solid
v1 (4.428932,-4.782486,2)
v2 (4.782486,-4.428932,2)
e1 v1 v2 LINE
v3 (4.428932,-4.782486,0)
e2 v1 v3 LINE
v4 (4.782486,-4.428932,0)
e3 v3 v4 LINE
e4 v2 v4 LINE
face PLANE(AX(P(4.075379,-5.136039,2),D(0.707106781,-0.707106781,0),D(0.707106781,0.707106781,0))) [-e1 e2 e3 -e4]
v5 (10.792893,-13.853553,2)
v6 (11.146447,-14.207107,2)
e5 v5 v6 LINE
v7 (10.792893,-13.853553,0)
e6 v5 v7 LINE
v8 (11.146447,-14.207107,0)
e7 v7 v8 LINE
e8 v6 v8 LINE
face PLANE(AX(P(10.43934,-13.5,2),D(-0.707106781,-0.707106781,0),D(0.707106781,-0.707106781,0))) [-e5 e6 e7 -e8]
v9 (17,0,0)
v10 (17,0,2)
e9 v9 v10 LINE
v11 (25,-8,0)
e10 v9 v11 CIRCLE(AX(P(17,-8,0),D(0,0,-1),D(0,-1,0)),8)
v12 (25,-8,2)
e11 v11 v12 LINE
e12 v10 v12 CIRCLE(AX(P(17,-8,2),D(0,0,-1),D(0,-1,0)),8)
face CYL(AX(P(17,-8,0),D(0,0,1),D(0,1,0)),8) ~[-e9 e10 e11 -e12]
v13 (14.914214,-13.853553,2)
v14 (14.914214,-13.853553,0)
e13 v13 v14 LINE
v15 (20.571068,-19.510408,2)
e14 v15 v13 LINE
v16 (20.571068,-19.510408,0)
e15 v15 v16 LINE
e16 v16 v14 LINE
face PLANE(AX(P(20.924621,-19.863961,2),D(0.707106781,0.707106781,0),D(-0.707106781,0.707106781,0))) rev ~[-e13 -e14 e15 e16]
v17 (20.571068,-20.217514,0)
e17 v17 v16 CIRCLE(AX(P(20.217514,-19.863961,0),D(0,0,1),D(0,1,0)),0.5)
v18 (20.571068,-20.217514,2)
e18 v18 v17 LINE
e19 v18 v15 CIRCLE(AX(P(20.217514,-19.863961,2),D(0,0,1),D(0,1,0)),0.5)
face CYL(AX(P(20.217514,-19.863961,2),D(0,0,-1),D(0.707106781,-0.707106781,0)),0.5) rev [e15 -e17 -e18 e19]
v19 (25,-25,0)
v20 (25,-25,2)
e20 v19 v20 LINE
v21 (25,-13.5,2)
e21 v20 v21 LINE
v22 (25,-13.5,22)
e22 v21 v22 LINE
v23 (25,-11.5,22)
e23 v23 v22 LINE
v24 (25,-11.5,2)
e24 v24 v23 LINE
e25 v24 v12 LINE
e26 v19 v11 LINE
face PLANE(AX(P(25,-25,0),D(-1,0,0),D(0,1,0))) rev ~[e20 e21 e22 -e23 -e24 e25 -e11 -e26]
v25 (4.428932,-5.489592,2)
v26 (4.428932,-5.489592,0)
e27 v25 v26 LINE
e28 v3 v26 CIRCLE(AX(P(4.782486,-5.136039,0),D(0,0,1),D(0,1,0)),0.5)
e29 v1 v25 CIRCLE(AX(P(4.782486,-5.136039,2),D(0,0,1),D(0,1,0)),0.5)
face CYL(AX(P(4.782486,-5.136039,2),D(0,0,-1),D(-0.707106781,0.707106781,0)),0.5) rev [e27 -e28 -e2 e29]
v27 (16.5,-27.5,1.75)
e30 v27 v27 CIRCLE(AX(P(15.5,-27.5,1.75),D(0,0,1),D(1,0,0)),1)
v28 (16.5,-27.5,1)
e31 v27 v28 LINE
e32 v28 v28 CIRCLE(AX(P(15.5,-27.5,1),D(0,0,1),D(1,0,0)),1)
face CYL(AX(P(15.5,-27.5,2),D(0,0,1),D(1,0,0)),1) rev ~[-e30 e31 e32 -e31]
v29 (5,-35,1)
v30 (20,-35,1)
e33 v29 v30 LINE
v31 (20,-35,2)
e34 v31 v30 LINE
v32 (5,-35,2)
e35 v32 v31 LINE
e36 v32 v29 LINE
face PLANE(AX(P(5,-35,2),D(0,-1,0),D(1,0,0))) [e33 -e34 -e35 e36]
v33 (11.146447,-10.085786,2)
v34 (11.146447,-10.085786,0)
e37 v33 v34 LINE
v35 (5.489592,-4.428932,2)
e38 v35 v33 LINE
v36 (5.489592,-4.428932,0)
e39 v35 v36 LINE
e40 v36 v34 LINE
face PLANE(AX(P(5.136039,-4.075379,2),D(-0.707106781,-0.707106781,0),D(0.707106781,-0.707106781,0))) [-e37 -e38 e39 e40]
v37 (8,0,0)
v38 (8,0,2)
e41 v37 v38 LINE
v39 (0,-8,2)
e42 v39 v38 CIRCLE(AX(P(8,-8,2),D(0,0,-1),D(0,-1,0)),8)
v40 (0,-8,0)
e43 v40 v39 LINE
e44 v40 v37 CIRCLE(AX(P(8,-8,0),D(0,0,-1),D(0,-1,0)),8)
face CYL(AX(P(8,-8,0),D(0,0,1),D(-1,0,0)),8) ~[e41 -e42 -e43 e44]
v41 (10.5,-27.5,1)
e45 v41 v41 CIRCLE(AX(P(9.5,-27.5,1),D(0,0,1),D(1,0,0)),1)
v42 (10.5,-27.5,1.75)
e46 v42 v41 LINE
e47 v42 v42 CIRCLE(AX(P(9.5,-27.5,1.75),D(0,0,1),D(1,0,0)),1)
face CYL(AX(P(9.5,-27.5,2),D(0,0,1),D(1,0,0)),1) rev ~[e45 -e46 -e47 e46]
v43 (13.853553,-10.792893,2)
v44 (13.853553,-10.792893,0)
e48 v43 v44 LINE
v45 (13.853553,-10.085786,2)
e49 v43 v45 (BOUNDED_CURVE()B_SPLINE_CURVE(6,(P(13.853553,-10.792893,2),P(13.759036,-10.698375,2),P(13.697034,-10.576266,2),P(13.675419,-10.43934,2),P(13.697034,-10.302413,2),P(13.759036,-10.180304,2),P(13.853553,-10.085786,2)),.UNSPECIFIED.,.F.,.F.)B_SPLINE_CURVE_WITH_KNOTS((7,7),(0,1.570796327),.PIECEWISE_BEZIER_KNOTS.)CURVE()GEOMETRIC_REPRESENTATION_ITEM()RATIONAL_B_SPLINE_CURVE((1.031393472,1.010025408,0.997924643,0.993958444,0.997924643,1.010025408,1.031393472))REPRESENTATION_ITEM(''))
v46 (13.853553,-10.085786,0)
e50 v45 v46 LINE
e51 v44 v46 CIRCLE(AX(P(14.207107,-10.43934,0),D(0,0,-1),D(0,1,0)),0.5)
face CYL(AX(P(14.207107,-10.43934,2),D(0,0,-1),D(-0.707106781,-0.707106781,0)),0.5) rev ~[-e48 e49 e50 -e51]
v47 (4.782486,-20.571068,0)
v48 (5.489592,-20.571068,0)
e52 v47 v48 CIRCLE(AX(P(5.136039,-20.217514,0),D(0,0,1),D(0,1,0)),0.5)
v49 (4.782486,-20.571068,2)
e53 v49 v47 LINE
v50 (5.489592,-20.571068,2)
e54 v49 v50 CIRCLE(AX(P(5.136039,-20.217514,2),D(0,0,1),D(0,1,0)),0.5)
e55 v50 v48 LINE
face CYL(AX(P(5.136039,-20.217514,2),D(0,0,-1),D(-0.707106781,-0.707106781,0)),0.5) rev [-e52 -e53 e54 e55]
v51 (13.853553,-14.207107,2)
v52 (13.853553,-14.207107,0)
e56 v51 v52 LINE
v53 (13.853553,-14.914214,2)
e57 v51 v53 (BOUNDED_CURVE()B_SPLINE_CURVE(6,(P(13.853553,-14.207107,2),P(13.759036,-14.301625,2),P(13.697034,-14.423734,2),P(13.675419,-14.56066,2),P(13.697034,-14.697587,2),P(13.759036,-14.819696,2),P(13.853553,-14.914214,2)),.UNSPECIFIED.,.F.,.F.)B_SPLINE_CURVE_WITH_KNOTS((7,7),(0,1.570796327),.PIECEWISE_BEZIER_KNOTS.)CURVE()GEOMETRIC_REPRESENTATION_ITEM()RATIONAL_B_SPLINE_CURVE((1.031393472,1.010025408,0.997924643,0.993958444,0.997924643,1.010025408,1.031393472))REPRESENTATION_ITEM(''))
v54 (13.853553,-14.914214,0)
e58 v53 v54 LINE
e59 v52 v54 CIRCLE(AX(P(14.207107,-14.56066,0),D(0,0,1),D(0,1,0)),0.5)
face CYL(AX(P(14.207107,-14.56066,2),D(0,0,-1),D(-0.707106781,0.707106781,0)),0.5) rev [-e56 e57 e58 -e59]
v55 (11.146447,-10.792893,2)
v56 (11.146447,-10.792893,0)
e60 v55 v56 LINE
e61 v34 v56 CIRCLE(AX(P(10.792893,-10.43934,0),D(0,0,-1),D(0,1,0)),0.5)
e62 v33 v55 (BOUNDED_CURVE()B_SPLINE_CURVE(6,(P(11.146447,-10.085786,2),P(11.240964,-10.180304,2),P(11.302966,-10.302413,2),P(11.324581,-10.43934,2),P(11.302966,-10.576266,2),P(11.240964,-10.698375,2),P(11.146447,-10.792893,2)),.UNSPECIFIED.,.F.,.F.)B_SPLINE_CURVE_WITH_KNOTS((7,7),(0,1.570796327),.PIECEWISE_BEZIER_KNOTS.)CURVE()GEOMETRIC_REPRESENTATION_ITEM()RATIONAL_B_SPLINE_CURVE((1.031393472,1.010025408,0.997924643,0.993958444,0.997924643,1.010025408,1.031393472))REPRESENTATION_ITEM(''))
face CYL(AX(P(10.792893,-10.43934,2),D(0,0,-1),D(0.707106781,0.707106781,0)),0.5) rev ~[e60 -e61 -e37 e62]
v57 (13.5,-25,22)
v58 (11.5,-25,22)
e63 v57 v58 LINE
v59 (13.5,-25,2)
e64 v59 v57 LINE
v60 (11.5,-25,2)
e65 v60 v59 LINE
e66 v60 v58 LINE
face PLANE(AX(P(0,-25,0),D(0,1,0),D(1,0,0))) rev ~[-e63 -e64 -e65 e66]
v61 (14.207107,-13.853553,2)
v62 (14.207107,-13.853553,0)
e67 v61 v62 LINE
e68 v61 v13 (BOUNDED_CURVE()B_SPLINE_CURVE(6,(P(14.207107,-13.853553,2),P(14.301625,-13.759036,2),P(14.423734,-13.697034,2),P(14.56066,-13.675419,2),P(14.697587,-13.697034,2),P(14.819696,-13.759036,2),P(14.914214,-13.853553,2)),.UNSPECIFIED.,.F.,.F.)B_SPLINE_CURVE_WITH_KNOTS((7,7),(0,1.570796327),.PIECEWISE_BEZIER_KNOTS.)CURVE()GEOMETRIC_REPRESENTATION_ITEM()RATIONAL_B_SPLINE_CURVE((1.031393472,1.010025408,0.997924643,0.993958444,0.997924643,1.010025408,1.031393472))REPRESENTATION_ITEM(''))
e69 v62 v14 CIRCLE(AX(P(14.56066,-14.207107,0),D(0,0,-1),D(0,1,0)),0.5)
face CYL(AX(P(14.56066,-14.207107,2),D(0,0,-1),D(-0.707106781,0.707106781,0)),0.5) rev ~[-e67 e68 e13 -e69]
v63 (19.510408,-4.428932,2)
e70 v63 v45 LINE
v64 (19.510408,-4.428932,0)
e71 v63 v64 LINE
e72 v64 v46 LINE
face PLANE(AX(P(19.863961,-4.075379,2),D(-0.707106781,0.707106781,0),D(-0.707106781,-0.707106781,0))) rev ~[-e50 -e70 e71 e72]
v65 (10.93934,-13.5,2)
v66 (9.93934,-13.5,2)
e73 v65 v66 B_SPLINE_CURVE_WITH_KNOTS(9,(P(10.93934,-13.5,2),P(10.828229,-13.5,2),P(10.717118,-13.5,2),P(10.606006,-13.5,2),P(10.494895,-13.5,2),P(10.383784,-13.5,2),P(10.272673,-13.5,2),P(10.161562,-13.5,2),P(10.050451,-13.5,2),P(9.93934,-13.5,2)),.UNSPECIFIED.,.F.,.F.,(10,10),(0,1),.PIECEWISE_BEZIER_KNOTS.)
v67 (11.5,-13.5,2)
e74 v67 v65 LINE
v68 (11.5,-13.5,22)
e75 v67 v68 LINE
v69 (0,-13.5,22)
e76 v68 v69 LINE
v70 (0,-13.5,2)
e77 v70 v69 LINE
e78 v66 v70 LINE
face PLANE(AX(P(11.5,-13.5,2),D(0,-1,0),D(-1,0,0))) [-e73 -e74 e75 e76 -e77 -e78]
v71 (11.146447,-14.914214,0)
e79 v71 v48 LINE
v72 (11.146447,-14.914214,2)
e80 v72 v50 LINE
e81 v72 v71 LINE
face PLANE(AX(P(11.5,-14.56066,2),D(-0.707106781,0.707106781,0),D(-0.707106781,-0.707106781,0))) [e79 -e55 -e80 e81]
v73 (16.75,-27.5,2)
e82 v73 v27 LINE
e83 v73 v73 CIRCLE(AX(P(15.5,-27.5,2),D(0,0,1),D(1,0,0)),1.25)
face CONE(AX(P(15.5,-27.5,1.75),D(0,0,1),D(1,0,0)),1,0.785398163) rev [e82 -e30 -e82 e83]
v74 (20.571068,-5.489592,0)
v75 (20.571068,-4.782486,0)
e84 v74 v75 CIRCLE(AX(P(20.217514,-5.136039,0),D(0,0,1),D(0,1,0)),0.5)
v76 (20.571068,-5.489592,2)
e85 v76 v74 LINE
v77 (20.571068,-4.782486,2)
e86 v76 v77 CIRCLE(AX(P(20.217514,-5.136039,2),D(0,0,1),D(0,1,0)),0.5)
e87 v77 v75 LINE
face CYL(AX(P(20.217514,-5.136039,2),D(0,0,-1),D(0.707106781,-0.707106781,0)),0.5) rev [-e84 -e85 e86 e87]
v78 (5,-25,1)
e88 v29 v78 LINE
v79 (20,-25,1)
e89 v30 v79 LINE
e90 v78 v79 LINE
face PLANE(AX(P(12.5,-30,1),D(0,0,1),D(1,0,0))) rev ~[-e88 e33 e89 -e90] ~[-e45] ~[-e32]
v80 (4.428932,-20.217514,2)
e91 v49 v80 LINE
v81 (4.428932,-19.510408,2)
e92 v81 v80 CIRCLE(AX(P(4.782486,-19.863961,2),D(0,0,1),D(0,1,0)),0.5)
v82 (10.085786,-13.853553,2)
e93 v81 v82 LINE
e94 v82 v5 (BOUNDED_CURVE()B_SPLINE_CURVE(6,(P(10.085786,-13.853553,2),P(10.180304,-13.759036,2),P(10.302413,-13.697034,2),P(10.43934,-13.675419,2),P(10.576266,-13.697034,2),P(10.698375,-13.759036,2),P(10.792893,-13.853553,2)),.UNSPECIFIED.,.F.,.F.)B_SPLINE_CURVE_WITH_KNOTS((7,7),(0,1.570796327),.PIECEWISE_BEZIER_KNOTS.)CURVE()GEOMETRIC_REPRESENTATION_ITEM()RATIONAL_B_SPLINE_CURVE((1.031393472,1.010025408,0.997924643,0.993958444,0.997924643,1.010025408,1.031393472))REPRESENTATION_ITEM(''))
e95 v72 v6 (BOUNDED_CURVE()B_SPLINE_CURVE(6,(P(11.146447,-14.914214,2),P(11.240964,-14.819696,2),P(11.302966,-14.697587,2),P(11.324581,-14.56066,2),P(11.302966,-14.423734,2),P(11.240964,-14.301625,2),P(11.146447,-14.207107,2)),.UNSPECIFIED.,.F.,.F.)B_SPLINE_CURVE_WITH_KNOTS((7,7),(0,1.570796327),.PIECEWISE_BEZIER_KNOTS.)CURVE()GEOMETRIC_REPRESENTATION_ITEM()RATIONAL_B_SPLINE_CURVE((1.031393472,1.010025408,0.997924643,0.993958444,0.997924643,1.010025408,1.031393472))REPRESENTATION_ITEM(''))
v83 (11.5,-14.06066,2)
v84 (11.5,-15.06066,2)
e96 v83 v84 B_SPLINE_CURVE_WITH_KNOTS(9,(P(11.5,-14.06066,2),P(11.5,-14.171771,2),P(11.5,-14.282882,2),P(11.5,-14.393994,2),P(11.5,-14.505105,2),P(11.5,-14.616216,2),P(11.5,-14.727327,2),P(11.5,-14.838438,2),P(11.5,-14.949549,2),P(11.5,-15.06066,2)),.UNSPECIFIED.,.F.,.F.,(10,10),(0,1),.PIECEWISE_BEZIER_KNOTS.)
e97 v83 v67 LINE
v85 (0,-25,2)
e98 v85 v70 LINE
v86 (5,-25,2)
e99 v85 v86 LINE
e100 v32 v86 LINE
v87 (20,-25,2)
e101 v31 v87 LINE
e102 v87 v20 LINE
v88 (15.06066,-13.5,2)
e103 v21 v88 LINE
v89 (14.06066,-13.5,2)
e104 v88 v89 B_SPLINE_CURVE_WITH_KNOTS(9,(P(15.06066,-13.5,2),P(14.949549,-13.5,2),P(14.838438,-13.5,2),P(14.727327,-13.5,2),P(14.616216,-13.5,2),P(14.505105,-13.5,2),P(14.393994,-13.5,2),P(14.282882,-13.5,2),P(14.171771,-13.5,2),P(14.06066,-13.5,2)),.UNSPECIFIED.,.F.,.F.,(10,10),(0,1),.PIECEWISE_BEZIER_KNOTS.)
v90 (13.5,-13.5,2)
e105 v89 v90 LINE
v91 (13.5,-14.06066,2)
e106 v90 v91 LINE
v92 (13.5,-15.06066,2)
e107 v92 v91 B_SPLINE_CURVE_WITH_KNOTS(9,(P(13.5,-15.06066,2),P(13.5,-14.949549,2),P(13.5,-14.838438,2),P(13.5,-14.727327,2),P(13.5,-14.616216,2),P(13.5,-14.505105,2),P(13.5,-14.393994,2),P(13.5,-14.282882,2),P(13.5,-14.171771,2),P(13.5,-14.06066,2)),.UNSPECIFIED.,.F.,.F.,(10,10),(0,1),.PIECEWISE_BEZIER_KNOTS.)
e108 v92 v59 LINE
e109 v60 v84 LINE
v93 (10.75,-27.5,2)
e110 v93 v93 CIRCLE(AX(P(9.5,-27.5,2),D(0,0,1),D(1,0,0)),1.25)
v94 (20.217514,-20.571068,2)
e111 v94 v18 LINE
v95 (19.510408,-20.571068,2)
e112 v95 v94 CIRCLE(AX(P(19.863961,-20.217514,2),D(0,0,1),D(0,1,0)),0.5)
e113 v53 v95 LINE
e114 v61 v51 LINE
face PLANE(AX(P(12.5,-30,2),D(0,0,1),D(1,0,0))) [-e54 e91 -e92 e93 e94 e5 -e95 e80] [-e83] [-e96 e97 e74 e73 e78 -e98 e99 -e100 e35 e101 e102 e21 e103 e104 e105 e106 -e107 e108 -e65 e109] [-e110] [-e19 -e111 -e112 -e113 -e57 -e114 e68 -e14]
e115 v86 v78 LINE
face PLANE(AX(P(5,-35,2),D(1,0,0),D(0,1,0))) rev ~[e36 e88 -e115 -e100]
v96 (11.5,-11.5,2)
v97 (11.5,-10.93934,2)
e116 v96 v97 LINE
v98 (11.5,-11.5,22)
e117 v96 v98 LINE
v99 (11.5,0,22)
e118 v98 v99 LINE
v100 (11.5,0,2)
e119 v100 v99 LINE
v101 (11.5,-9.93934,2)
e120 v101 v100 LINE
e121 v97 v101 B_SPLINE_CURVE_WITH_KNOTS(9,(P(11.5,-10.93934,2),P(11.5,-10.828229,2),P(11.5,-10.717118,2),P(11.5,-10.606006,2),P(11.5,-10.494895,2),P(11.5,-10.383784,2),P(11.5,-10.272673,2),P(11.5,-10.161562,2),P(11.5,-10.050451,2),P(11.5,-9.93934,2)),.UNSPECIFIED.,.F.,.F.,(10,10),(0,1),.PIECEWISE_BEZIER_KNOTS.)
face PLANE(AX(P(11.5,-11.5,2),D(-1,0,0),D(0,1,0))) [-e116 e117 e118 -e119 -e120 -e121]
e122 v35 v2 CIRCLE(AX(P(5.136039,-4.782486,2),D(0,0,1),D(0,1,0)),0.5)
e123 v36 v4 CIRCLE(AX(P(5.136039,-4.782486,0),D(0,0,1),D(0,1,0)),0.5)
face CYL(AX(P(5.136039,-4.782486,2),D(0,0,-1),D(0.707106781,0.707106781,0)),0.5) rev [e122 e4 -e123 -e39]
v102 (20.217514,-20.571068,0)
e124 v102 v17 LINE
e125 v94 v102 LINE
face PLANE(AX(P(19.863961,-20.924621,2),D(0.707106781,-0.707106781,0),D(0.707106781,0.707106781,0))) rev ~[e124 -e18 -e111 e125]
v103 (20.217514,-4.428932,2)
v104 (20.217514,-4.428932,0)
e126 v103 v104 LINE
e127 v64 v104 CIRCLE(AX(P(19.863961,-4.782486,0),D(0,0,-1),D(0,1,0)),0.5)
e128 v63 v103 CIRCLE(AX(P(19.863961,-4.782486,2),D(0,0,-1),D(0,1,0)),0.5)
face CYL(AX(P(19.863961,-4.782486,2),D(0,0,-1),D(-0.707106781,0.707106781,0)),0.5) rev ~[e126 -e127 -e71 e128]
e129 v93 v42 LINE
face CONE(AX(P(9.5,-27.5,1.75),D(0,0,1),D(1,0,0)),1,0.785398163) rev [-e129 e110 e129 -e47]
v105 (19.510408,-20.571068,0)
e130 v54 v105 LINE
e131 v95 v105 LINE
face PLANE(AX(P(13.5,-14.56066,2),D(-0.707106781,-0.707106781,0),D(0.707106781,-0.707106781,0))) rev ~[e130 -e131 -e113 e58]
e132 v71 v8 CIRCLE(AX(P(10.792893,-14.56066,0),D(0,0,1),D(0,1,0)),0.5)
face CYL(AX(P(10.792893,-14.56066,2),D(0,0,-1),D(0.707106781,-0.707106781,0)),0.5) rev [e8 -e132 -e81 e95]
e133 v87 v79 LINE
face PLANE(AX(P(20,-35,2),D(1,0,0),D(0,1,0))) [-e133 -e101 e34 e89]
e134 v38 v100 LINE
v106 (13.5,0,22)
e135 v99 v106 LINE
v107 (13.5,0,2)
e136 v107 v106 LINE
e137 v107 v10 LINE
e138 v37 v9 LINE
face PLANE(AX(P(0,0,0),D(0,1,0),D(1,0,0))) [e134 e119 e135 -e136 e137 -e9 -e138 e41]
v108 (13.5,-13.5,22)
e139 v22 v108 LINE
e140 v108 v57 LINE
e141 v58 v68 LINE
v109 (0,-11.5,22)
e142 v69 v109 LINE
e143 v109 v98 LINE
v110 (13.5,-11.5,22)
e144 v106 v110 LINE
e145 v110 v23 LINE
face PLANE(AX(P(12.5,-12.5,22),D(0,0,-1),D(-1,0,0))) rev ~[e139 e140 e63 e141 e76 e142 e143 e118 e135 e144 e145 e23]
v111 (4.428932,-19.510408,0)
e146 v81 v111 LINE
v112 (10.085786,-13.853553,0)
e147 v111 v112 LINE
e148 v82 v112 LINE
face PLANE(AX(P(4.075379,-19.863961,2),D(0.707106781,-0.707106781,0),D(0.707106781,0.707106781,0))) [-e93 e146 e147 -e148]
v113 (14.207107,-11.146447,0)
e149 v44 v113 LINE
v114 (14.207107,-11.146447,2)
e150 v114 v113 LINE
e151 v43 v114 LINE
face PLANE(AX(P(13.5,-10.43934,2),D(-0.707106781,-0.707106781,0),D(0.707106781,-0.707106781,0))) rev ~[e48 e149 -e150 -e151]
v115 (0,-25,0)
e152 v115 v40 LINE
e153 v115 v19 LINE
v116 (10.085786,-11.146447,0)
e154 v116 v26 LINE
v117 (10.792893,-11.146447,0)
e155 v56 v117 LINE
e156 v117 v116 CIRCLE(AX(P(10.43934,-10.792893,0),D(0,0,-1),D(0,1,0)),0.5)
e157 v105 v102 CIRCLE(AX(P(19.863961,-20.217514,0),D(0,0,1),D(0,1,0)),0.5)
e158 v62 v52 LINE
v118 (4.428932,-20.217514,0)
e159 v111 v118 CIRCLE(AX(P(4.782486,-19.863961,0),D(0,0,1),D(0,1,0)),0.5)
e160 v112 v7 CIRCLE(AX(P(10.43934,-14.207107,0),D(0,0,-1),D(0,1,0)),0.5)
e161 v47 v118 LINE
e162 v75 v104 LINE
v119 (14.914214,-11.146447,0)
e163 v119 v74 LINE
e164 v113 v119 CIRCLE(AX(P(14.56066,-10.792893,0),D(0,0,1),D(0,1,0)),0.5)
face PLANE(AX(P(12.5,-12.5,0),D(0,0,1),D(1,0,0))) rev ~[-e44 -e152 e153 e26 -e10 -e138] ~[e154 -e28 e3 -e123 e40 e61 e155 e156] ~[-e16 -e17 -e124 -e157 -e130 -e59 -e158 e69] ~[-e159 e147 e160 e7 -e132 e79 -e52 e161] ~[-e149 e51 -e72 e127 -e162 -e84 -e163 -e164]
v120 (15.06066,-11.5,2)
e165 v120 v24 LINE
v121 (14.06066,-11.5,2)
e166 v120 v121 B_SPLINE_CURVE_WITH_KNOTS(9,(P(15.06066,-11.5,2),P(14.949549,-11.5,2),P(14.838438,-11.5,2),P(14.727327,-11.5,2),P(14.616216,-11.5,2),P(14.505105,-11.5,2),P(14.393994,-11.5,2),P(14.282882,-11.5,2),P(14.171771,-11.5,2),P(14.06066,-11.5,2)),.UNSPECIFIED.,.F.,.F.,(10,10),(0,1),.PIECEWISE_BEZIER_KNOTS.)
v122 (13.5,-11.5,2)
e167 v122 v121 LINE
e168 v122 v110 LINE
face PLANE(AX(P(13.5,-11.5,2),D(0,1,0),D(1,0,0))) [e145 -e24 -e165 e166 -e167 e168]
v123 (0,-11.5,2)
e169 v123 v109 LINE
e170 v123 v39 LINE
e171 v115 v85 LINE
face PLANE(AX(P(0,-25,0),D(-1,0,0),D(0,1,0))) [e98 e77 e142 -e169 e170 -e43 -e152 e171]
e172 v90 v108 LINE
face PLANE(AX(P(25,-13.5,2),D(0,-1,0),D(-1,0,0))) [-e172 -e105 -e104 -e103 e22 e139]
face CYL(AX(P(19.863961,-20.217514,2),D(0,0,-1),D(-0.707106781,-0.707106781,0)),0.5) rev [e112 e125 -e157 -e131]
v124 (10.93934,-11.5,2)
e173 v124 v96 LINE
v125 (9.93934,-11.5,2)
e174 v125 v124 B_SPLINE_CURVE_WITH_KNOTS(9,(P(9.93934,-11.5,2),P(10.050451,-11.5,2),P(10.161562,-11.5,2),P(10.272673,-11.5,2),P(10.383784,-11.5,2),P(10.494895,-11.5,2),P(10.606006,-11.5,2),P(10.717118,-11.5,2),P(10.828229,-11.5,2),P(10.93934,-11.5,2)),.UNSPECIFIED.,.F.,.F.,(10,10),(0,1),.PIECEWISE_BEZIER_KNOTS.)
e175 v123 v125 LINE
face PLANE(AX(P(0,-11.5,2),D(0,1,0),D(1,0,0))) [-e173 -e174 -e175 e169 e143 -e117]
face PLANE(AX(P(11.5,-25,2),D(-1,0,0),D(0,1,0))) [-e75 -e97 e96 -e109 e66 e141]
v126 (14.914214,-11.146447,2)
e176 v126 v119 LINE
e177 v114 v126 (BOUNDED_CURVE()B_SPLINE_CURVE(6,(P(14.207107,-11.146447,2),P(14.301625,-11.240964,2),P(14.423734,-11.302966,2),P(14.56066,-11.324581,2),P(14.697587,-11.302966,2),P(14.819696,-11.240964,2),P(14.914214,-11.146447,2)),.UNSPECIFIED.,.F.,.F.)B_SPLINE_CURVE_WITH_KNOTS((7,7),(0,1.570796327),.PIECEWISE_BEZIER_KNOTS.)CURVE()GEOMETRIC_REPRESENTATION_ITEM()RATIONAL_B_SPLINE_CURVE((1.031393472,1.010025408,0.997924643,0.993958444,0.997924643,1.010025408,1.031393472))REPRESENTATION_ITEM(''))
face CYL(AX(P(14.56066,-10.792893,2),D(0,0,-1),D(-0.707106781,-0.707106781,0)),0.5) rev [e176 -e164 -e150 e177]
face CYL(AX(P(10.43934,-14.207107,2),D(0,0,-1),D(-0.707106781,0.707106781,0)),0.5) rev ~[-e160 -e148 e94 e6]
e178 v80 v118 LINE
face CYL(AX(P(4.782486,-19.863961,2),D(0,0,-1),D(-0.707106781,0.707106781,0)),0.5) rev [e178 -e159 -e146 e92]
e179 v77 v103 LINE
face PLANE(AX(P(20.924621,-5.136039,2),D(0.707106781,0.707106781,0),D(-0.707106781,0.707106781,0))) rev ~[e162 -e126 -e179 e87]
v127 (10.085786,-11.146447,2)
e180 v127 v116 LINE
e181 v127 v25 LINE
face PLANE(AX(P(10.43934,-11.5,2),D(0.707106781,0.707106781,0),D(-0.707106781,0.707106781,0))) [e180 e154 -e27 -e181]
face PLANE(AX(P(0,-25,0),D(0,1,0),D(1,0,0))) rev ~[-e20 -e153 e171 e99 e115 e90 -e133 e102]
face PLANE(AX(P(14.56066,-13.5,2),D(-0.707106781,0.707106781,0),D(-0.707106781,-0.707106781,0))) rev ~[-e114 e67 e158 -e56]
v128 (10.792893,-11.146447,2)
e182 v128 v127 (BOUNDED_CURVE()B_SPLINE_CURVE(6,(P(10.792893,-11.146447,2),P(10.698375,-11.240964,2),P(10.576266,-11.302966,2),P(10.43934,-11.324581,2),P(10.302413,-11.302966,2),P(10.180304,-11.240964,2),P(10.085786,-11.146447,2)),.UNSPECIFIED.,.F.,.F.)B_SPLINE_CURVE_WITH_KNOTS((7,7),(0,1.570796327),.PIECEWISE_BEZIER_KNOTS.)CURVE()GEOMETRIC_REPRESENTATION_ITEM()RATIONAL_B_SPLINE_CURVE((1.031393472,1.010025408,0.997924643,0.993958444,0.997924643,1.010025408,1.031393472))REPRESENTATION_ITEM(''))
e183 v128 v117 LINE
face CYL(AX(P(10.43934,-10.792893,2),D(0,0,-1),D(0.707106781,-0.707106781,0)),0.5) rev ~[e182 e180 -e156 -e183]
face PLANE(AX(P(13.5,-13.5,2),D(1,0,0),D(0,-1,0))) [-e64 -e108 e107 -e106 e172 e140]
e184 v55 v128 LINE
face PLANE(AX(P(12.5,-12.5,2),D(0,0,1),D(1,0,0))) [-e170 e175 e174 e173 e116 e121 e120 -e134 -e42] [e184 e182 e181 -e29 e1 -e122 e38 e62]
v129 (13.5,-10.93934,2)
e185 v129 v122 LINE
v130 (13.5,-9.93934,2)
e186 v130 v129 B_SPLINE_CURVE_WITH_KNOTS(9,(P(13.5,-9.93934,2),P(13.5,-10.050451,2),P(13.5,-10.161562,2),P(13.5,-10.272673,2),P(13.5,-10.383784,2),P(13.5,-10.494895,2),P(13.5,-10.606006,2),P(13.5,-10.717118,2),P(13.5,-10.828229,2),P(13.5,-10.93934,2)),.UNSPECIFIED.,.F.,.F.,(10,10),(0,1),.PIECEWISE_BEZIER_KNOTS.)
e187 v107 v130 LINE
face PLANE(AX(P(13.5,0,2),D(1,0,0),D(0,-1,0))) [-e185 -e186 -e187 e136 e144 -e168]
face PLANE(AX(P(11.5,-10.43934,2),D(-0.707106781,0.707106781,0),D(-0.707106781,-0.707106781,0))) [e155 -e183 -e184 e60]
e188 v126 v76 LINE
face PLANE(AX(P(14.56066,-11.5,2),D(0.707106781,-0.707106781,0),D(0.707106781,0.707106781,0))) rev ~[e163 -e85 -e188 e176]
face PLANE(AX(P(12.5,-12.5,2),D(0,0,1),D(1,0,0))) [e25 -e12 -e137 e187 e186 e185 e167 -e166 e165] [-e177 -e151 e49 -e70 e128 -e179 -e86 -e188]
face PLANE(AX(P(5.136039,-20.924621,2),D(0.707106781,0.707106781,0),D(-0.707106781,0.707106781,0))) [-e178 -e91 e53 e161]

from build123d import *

# Parameters (mm, degrees)
SZKIC2_W                    = 25
SZKIC2_H                    = 25
DODANIE_WYCI_GNI_CIE1_DEPTH = 2
DODANIE_WYCI_GNI_CIE2_DEPTH = 20
ZAOKR_GLENIE1_R             = 8
WYTNIJ_WYCI_GNI_CIE1_DEPTH  = 20
ZAOKR_GLENIE2_R             = 0.5
WYTNIJ_WYCI_GNI_CIE2_DEPTH  = 20
WYTNIJ_WYCI_GNI_CIE3_DEPTH  = 20
WYTNIJ_WYCI_GNI_CIE4_DEPTH  = 20
ZAOKR_GLENIE3_R             = 0.5
SZKIC14_W                   = 15
SZKIC14_H                   = 10
DODANIE_WYCI_GNI_CIE3_DEPTH = 1
SZKIC13_R                   = 1
WYTNIJ_WYCI_GNI_CIE5_DEPTH  = 1
SFAZOWANIE1_SIZE            = 0.25


with BuildPart() as part:
    # Szkic2 → Dodanie-wyciągnięcie1 (new body)
    with BuildSketch(Plane.XY):
        with Locations((12.5, -12.5)):
            Rectangle(SZKIC2_W, SZKIC2_H)
    extrude(amount=DODANIE_WYCI_GNI_CIE1_DEPTH)

    # Szkic3 → Dodanie-wyciągnięcie2 (add)
    with BuildSketch(Plane.XY.offset(2)):
        Polygon((11.5, 0), (13.5, 0), (13.5, -11.5), (25, -11.5), (25, -13.5), (13.5, -13.5), (13.5, -25), (11.5, -25), (11.5, -13.5), (0, -13.5), (0, -11.5), (11.5, -11.5), align=None)
    extrude(amount=DODANIE_WYCI_GNI_CIE2_DEPTH)

    # Zaokrąglenie1
    zaokr_glenie1_edges = [part.edges().sort_by_distance(p)[0] for p in [
        (0, 0, 1),
        (25, 0, 1),
    ]]
    fillet(zaokr_glenie1_edges, radius=ZAOKR_GLENIE1_R)

    # Szkic7 → Wytnij-wyciągnięcie1 (cut)
    with BuildSketch(Plane.XY.offset(2)):
        Polygon((10.439339828, -13.5), (11.5, -14.560660172), (5.136038969, -20.924621202), (4.075378798, -19.863961031), align=None)
    extrude(amount=-WYTNIJ_WYCI_GNI_CIE1_DEPTH, mode=Mode.SUBTRACT)

    # Zaokrąglenie2
    zaokr_glenie2_edges = [part.edges().sort_by_distance(p)[0] for p in [
        (4.075378798, -19.863961031, 1),
        (10.439339828, -13.5, 1),
        (11.5, -14.560660172, 1),
        (5.136038969, -20.924621202, 1),
    ]]
    fillet(zaokr_glenie2_edges, radius=ZAOKR_GLENIE2_R)

    # Szkic9 → Wytnij-wyciągnięcie2 (cut)
    with BuildSketch(Plane.XY.offset(2)):
        Polygon((11.5, -10.439339828), (10.439339828, -11.5), (4.075378798, -5.136038969), (5.136038969, -4.075378798), align=None)
    extrude(amount=-WYTNIJ_WYCI_GNI_CIE2_DEPTH, mode=Mode.SUBTRACT)

    # Szkic11 → Wytnij-wyciągnięcie3 (cut)
    with BuildSketch(Plane.XY.offset(2)):
        Polygon((13.5, -10.439339828), (14.560660172, -11.5), (20.924621202, -5.136038969), (19.863961031, -4.075378798), align=None)
    extrude(amount=-WYTNIJ_WYCI_GNI_CIE3_DEPTH, mode=Mode.SUBTRACT)

    # Szkic12 → Wytnij-wyciągnięcie4 (cut)
    with BuildSketch(Plane.XY.offset(2)):
        Polygon((14.560660172, -13.5), (13.5, -14.560660172), (19.863961031, -20.924621202), (20.924621202, -19.863961031), align=None)
    extrude(amount=-WYTNIJ_WYCI_GNI_CIE4_DEPTH, mode=Mode.SUBTRACT)

    # Zaokrąglenie3
    zaokr_glenie3_edges = [part.edges().sort_by_distance(p)[0] for p in [
        (5.136038969, -4.075378798, 1),
        (11.5, -10.439339828, 1),
        (10.439339828, -11.5, 1),
        (4.075378798, -5.136038969, 1),
        (13.5, -10.439339828, 1),
        (19.863961031, -4.075378798, 1),
        (20.924621202, -5.136038969, 1),
        (14.560660172, -11.5, 1),
        (14.560660172, -13.5, 1),
        (20.924621202, -19.863961031, 1),
        (19.863961031, -20.924621202, 1),
        (13.5, -14.560660172, 1),
    ]]
    fillet(zaokr_glenie3_edges, radius=ZAOKR_GLENIE3_R)

    # Szkic14 → Dodanie-wyciągnięcie3 (add)
    with BuildSketch(Plane.XY.offset(2)):
        with Locations((12.5, -30)):
            Rectangle(SZKIC14_W, SZKIC14_H)
    extrude(amount=-DODANIE_WYCI_GNI_CIE3_DEPTH)

    # Szkic13 → Wytnij-wyciągnięcie5 (cut)
    with BuildSketch(Plane.XY.offset(2)):
        with Locations((9.5, -27.5)):
            Circle(SZKIC13_R)
        with Locations((15.5, -27.5)):
            Circle(SZKIC13_R)
    extrude(amount=-WYTNIJ_WYCI_GNI_CIE5_DEPTH, mode=Mode.SUBTRACT)

    # Sfazowanie1
    sfazowanie1_edges = [part.edges().sort_by_distance(p)[0] for p in [
        (8.5, -27.5, 2),
        (14.5, -27.5, 2),
    ]]
    chamfer(sfazowanie1_edges, length=SFAZOWANIE1_SIZE)


solid = part.part
